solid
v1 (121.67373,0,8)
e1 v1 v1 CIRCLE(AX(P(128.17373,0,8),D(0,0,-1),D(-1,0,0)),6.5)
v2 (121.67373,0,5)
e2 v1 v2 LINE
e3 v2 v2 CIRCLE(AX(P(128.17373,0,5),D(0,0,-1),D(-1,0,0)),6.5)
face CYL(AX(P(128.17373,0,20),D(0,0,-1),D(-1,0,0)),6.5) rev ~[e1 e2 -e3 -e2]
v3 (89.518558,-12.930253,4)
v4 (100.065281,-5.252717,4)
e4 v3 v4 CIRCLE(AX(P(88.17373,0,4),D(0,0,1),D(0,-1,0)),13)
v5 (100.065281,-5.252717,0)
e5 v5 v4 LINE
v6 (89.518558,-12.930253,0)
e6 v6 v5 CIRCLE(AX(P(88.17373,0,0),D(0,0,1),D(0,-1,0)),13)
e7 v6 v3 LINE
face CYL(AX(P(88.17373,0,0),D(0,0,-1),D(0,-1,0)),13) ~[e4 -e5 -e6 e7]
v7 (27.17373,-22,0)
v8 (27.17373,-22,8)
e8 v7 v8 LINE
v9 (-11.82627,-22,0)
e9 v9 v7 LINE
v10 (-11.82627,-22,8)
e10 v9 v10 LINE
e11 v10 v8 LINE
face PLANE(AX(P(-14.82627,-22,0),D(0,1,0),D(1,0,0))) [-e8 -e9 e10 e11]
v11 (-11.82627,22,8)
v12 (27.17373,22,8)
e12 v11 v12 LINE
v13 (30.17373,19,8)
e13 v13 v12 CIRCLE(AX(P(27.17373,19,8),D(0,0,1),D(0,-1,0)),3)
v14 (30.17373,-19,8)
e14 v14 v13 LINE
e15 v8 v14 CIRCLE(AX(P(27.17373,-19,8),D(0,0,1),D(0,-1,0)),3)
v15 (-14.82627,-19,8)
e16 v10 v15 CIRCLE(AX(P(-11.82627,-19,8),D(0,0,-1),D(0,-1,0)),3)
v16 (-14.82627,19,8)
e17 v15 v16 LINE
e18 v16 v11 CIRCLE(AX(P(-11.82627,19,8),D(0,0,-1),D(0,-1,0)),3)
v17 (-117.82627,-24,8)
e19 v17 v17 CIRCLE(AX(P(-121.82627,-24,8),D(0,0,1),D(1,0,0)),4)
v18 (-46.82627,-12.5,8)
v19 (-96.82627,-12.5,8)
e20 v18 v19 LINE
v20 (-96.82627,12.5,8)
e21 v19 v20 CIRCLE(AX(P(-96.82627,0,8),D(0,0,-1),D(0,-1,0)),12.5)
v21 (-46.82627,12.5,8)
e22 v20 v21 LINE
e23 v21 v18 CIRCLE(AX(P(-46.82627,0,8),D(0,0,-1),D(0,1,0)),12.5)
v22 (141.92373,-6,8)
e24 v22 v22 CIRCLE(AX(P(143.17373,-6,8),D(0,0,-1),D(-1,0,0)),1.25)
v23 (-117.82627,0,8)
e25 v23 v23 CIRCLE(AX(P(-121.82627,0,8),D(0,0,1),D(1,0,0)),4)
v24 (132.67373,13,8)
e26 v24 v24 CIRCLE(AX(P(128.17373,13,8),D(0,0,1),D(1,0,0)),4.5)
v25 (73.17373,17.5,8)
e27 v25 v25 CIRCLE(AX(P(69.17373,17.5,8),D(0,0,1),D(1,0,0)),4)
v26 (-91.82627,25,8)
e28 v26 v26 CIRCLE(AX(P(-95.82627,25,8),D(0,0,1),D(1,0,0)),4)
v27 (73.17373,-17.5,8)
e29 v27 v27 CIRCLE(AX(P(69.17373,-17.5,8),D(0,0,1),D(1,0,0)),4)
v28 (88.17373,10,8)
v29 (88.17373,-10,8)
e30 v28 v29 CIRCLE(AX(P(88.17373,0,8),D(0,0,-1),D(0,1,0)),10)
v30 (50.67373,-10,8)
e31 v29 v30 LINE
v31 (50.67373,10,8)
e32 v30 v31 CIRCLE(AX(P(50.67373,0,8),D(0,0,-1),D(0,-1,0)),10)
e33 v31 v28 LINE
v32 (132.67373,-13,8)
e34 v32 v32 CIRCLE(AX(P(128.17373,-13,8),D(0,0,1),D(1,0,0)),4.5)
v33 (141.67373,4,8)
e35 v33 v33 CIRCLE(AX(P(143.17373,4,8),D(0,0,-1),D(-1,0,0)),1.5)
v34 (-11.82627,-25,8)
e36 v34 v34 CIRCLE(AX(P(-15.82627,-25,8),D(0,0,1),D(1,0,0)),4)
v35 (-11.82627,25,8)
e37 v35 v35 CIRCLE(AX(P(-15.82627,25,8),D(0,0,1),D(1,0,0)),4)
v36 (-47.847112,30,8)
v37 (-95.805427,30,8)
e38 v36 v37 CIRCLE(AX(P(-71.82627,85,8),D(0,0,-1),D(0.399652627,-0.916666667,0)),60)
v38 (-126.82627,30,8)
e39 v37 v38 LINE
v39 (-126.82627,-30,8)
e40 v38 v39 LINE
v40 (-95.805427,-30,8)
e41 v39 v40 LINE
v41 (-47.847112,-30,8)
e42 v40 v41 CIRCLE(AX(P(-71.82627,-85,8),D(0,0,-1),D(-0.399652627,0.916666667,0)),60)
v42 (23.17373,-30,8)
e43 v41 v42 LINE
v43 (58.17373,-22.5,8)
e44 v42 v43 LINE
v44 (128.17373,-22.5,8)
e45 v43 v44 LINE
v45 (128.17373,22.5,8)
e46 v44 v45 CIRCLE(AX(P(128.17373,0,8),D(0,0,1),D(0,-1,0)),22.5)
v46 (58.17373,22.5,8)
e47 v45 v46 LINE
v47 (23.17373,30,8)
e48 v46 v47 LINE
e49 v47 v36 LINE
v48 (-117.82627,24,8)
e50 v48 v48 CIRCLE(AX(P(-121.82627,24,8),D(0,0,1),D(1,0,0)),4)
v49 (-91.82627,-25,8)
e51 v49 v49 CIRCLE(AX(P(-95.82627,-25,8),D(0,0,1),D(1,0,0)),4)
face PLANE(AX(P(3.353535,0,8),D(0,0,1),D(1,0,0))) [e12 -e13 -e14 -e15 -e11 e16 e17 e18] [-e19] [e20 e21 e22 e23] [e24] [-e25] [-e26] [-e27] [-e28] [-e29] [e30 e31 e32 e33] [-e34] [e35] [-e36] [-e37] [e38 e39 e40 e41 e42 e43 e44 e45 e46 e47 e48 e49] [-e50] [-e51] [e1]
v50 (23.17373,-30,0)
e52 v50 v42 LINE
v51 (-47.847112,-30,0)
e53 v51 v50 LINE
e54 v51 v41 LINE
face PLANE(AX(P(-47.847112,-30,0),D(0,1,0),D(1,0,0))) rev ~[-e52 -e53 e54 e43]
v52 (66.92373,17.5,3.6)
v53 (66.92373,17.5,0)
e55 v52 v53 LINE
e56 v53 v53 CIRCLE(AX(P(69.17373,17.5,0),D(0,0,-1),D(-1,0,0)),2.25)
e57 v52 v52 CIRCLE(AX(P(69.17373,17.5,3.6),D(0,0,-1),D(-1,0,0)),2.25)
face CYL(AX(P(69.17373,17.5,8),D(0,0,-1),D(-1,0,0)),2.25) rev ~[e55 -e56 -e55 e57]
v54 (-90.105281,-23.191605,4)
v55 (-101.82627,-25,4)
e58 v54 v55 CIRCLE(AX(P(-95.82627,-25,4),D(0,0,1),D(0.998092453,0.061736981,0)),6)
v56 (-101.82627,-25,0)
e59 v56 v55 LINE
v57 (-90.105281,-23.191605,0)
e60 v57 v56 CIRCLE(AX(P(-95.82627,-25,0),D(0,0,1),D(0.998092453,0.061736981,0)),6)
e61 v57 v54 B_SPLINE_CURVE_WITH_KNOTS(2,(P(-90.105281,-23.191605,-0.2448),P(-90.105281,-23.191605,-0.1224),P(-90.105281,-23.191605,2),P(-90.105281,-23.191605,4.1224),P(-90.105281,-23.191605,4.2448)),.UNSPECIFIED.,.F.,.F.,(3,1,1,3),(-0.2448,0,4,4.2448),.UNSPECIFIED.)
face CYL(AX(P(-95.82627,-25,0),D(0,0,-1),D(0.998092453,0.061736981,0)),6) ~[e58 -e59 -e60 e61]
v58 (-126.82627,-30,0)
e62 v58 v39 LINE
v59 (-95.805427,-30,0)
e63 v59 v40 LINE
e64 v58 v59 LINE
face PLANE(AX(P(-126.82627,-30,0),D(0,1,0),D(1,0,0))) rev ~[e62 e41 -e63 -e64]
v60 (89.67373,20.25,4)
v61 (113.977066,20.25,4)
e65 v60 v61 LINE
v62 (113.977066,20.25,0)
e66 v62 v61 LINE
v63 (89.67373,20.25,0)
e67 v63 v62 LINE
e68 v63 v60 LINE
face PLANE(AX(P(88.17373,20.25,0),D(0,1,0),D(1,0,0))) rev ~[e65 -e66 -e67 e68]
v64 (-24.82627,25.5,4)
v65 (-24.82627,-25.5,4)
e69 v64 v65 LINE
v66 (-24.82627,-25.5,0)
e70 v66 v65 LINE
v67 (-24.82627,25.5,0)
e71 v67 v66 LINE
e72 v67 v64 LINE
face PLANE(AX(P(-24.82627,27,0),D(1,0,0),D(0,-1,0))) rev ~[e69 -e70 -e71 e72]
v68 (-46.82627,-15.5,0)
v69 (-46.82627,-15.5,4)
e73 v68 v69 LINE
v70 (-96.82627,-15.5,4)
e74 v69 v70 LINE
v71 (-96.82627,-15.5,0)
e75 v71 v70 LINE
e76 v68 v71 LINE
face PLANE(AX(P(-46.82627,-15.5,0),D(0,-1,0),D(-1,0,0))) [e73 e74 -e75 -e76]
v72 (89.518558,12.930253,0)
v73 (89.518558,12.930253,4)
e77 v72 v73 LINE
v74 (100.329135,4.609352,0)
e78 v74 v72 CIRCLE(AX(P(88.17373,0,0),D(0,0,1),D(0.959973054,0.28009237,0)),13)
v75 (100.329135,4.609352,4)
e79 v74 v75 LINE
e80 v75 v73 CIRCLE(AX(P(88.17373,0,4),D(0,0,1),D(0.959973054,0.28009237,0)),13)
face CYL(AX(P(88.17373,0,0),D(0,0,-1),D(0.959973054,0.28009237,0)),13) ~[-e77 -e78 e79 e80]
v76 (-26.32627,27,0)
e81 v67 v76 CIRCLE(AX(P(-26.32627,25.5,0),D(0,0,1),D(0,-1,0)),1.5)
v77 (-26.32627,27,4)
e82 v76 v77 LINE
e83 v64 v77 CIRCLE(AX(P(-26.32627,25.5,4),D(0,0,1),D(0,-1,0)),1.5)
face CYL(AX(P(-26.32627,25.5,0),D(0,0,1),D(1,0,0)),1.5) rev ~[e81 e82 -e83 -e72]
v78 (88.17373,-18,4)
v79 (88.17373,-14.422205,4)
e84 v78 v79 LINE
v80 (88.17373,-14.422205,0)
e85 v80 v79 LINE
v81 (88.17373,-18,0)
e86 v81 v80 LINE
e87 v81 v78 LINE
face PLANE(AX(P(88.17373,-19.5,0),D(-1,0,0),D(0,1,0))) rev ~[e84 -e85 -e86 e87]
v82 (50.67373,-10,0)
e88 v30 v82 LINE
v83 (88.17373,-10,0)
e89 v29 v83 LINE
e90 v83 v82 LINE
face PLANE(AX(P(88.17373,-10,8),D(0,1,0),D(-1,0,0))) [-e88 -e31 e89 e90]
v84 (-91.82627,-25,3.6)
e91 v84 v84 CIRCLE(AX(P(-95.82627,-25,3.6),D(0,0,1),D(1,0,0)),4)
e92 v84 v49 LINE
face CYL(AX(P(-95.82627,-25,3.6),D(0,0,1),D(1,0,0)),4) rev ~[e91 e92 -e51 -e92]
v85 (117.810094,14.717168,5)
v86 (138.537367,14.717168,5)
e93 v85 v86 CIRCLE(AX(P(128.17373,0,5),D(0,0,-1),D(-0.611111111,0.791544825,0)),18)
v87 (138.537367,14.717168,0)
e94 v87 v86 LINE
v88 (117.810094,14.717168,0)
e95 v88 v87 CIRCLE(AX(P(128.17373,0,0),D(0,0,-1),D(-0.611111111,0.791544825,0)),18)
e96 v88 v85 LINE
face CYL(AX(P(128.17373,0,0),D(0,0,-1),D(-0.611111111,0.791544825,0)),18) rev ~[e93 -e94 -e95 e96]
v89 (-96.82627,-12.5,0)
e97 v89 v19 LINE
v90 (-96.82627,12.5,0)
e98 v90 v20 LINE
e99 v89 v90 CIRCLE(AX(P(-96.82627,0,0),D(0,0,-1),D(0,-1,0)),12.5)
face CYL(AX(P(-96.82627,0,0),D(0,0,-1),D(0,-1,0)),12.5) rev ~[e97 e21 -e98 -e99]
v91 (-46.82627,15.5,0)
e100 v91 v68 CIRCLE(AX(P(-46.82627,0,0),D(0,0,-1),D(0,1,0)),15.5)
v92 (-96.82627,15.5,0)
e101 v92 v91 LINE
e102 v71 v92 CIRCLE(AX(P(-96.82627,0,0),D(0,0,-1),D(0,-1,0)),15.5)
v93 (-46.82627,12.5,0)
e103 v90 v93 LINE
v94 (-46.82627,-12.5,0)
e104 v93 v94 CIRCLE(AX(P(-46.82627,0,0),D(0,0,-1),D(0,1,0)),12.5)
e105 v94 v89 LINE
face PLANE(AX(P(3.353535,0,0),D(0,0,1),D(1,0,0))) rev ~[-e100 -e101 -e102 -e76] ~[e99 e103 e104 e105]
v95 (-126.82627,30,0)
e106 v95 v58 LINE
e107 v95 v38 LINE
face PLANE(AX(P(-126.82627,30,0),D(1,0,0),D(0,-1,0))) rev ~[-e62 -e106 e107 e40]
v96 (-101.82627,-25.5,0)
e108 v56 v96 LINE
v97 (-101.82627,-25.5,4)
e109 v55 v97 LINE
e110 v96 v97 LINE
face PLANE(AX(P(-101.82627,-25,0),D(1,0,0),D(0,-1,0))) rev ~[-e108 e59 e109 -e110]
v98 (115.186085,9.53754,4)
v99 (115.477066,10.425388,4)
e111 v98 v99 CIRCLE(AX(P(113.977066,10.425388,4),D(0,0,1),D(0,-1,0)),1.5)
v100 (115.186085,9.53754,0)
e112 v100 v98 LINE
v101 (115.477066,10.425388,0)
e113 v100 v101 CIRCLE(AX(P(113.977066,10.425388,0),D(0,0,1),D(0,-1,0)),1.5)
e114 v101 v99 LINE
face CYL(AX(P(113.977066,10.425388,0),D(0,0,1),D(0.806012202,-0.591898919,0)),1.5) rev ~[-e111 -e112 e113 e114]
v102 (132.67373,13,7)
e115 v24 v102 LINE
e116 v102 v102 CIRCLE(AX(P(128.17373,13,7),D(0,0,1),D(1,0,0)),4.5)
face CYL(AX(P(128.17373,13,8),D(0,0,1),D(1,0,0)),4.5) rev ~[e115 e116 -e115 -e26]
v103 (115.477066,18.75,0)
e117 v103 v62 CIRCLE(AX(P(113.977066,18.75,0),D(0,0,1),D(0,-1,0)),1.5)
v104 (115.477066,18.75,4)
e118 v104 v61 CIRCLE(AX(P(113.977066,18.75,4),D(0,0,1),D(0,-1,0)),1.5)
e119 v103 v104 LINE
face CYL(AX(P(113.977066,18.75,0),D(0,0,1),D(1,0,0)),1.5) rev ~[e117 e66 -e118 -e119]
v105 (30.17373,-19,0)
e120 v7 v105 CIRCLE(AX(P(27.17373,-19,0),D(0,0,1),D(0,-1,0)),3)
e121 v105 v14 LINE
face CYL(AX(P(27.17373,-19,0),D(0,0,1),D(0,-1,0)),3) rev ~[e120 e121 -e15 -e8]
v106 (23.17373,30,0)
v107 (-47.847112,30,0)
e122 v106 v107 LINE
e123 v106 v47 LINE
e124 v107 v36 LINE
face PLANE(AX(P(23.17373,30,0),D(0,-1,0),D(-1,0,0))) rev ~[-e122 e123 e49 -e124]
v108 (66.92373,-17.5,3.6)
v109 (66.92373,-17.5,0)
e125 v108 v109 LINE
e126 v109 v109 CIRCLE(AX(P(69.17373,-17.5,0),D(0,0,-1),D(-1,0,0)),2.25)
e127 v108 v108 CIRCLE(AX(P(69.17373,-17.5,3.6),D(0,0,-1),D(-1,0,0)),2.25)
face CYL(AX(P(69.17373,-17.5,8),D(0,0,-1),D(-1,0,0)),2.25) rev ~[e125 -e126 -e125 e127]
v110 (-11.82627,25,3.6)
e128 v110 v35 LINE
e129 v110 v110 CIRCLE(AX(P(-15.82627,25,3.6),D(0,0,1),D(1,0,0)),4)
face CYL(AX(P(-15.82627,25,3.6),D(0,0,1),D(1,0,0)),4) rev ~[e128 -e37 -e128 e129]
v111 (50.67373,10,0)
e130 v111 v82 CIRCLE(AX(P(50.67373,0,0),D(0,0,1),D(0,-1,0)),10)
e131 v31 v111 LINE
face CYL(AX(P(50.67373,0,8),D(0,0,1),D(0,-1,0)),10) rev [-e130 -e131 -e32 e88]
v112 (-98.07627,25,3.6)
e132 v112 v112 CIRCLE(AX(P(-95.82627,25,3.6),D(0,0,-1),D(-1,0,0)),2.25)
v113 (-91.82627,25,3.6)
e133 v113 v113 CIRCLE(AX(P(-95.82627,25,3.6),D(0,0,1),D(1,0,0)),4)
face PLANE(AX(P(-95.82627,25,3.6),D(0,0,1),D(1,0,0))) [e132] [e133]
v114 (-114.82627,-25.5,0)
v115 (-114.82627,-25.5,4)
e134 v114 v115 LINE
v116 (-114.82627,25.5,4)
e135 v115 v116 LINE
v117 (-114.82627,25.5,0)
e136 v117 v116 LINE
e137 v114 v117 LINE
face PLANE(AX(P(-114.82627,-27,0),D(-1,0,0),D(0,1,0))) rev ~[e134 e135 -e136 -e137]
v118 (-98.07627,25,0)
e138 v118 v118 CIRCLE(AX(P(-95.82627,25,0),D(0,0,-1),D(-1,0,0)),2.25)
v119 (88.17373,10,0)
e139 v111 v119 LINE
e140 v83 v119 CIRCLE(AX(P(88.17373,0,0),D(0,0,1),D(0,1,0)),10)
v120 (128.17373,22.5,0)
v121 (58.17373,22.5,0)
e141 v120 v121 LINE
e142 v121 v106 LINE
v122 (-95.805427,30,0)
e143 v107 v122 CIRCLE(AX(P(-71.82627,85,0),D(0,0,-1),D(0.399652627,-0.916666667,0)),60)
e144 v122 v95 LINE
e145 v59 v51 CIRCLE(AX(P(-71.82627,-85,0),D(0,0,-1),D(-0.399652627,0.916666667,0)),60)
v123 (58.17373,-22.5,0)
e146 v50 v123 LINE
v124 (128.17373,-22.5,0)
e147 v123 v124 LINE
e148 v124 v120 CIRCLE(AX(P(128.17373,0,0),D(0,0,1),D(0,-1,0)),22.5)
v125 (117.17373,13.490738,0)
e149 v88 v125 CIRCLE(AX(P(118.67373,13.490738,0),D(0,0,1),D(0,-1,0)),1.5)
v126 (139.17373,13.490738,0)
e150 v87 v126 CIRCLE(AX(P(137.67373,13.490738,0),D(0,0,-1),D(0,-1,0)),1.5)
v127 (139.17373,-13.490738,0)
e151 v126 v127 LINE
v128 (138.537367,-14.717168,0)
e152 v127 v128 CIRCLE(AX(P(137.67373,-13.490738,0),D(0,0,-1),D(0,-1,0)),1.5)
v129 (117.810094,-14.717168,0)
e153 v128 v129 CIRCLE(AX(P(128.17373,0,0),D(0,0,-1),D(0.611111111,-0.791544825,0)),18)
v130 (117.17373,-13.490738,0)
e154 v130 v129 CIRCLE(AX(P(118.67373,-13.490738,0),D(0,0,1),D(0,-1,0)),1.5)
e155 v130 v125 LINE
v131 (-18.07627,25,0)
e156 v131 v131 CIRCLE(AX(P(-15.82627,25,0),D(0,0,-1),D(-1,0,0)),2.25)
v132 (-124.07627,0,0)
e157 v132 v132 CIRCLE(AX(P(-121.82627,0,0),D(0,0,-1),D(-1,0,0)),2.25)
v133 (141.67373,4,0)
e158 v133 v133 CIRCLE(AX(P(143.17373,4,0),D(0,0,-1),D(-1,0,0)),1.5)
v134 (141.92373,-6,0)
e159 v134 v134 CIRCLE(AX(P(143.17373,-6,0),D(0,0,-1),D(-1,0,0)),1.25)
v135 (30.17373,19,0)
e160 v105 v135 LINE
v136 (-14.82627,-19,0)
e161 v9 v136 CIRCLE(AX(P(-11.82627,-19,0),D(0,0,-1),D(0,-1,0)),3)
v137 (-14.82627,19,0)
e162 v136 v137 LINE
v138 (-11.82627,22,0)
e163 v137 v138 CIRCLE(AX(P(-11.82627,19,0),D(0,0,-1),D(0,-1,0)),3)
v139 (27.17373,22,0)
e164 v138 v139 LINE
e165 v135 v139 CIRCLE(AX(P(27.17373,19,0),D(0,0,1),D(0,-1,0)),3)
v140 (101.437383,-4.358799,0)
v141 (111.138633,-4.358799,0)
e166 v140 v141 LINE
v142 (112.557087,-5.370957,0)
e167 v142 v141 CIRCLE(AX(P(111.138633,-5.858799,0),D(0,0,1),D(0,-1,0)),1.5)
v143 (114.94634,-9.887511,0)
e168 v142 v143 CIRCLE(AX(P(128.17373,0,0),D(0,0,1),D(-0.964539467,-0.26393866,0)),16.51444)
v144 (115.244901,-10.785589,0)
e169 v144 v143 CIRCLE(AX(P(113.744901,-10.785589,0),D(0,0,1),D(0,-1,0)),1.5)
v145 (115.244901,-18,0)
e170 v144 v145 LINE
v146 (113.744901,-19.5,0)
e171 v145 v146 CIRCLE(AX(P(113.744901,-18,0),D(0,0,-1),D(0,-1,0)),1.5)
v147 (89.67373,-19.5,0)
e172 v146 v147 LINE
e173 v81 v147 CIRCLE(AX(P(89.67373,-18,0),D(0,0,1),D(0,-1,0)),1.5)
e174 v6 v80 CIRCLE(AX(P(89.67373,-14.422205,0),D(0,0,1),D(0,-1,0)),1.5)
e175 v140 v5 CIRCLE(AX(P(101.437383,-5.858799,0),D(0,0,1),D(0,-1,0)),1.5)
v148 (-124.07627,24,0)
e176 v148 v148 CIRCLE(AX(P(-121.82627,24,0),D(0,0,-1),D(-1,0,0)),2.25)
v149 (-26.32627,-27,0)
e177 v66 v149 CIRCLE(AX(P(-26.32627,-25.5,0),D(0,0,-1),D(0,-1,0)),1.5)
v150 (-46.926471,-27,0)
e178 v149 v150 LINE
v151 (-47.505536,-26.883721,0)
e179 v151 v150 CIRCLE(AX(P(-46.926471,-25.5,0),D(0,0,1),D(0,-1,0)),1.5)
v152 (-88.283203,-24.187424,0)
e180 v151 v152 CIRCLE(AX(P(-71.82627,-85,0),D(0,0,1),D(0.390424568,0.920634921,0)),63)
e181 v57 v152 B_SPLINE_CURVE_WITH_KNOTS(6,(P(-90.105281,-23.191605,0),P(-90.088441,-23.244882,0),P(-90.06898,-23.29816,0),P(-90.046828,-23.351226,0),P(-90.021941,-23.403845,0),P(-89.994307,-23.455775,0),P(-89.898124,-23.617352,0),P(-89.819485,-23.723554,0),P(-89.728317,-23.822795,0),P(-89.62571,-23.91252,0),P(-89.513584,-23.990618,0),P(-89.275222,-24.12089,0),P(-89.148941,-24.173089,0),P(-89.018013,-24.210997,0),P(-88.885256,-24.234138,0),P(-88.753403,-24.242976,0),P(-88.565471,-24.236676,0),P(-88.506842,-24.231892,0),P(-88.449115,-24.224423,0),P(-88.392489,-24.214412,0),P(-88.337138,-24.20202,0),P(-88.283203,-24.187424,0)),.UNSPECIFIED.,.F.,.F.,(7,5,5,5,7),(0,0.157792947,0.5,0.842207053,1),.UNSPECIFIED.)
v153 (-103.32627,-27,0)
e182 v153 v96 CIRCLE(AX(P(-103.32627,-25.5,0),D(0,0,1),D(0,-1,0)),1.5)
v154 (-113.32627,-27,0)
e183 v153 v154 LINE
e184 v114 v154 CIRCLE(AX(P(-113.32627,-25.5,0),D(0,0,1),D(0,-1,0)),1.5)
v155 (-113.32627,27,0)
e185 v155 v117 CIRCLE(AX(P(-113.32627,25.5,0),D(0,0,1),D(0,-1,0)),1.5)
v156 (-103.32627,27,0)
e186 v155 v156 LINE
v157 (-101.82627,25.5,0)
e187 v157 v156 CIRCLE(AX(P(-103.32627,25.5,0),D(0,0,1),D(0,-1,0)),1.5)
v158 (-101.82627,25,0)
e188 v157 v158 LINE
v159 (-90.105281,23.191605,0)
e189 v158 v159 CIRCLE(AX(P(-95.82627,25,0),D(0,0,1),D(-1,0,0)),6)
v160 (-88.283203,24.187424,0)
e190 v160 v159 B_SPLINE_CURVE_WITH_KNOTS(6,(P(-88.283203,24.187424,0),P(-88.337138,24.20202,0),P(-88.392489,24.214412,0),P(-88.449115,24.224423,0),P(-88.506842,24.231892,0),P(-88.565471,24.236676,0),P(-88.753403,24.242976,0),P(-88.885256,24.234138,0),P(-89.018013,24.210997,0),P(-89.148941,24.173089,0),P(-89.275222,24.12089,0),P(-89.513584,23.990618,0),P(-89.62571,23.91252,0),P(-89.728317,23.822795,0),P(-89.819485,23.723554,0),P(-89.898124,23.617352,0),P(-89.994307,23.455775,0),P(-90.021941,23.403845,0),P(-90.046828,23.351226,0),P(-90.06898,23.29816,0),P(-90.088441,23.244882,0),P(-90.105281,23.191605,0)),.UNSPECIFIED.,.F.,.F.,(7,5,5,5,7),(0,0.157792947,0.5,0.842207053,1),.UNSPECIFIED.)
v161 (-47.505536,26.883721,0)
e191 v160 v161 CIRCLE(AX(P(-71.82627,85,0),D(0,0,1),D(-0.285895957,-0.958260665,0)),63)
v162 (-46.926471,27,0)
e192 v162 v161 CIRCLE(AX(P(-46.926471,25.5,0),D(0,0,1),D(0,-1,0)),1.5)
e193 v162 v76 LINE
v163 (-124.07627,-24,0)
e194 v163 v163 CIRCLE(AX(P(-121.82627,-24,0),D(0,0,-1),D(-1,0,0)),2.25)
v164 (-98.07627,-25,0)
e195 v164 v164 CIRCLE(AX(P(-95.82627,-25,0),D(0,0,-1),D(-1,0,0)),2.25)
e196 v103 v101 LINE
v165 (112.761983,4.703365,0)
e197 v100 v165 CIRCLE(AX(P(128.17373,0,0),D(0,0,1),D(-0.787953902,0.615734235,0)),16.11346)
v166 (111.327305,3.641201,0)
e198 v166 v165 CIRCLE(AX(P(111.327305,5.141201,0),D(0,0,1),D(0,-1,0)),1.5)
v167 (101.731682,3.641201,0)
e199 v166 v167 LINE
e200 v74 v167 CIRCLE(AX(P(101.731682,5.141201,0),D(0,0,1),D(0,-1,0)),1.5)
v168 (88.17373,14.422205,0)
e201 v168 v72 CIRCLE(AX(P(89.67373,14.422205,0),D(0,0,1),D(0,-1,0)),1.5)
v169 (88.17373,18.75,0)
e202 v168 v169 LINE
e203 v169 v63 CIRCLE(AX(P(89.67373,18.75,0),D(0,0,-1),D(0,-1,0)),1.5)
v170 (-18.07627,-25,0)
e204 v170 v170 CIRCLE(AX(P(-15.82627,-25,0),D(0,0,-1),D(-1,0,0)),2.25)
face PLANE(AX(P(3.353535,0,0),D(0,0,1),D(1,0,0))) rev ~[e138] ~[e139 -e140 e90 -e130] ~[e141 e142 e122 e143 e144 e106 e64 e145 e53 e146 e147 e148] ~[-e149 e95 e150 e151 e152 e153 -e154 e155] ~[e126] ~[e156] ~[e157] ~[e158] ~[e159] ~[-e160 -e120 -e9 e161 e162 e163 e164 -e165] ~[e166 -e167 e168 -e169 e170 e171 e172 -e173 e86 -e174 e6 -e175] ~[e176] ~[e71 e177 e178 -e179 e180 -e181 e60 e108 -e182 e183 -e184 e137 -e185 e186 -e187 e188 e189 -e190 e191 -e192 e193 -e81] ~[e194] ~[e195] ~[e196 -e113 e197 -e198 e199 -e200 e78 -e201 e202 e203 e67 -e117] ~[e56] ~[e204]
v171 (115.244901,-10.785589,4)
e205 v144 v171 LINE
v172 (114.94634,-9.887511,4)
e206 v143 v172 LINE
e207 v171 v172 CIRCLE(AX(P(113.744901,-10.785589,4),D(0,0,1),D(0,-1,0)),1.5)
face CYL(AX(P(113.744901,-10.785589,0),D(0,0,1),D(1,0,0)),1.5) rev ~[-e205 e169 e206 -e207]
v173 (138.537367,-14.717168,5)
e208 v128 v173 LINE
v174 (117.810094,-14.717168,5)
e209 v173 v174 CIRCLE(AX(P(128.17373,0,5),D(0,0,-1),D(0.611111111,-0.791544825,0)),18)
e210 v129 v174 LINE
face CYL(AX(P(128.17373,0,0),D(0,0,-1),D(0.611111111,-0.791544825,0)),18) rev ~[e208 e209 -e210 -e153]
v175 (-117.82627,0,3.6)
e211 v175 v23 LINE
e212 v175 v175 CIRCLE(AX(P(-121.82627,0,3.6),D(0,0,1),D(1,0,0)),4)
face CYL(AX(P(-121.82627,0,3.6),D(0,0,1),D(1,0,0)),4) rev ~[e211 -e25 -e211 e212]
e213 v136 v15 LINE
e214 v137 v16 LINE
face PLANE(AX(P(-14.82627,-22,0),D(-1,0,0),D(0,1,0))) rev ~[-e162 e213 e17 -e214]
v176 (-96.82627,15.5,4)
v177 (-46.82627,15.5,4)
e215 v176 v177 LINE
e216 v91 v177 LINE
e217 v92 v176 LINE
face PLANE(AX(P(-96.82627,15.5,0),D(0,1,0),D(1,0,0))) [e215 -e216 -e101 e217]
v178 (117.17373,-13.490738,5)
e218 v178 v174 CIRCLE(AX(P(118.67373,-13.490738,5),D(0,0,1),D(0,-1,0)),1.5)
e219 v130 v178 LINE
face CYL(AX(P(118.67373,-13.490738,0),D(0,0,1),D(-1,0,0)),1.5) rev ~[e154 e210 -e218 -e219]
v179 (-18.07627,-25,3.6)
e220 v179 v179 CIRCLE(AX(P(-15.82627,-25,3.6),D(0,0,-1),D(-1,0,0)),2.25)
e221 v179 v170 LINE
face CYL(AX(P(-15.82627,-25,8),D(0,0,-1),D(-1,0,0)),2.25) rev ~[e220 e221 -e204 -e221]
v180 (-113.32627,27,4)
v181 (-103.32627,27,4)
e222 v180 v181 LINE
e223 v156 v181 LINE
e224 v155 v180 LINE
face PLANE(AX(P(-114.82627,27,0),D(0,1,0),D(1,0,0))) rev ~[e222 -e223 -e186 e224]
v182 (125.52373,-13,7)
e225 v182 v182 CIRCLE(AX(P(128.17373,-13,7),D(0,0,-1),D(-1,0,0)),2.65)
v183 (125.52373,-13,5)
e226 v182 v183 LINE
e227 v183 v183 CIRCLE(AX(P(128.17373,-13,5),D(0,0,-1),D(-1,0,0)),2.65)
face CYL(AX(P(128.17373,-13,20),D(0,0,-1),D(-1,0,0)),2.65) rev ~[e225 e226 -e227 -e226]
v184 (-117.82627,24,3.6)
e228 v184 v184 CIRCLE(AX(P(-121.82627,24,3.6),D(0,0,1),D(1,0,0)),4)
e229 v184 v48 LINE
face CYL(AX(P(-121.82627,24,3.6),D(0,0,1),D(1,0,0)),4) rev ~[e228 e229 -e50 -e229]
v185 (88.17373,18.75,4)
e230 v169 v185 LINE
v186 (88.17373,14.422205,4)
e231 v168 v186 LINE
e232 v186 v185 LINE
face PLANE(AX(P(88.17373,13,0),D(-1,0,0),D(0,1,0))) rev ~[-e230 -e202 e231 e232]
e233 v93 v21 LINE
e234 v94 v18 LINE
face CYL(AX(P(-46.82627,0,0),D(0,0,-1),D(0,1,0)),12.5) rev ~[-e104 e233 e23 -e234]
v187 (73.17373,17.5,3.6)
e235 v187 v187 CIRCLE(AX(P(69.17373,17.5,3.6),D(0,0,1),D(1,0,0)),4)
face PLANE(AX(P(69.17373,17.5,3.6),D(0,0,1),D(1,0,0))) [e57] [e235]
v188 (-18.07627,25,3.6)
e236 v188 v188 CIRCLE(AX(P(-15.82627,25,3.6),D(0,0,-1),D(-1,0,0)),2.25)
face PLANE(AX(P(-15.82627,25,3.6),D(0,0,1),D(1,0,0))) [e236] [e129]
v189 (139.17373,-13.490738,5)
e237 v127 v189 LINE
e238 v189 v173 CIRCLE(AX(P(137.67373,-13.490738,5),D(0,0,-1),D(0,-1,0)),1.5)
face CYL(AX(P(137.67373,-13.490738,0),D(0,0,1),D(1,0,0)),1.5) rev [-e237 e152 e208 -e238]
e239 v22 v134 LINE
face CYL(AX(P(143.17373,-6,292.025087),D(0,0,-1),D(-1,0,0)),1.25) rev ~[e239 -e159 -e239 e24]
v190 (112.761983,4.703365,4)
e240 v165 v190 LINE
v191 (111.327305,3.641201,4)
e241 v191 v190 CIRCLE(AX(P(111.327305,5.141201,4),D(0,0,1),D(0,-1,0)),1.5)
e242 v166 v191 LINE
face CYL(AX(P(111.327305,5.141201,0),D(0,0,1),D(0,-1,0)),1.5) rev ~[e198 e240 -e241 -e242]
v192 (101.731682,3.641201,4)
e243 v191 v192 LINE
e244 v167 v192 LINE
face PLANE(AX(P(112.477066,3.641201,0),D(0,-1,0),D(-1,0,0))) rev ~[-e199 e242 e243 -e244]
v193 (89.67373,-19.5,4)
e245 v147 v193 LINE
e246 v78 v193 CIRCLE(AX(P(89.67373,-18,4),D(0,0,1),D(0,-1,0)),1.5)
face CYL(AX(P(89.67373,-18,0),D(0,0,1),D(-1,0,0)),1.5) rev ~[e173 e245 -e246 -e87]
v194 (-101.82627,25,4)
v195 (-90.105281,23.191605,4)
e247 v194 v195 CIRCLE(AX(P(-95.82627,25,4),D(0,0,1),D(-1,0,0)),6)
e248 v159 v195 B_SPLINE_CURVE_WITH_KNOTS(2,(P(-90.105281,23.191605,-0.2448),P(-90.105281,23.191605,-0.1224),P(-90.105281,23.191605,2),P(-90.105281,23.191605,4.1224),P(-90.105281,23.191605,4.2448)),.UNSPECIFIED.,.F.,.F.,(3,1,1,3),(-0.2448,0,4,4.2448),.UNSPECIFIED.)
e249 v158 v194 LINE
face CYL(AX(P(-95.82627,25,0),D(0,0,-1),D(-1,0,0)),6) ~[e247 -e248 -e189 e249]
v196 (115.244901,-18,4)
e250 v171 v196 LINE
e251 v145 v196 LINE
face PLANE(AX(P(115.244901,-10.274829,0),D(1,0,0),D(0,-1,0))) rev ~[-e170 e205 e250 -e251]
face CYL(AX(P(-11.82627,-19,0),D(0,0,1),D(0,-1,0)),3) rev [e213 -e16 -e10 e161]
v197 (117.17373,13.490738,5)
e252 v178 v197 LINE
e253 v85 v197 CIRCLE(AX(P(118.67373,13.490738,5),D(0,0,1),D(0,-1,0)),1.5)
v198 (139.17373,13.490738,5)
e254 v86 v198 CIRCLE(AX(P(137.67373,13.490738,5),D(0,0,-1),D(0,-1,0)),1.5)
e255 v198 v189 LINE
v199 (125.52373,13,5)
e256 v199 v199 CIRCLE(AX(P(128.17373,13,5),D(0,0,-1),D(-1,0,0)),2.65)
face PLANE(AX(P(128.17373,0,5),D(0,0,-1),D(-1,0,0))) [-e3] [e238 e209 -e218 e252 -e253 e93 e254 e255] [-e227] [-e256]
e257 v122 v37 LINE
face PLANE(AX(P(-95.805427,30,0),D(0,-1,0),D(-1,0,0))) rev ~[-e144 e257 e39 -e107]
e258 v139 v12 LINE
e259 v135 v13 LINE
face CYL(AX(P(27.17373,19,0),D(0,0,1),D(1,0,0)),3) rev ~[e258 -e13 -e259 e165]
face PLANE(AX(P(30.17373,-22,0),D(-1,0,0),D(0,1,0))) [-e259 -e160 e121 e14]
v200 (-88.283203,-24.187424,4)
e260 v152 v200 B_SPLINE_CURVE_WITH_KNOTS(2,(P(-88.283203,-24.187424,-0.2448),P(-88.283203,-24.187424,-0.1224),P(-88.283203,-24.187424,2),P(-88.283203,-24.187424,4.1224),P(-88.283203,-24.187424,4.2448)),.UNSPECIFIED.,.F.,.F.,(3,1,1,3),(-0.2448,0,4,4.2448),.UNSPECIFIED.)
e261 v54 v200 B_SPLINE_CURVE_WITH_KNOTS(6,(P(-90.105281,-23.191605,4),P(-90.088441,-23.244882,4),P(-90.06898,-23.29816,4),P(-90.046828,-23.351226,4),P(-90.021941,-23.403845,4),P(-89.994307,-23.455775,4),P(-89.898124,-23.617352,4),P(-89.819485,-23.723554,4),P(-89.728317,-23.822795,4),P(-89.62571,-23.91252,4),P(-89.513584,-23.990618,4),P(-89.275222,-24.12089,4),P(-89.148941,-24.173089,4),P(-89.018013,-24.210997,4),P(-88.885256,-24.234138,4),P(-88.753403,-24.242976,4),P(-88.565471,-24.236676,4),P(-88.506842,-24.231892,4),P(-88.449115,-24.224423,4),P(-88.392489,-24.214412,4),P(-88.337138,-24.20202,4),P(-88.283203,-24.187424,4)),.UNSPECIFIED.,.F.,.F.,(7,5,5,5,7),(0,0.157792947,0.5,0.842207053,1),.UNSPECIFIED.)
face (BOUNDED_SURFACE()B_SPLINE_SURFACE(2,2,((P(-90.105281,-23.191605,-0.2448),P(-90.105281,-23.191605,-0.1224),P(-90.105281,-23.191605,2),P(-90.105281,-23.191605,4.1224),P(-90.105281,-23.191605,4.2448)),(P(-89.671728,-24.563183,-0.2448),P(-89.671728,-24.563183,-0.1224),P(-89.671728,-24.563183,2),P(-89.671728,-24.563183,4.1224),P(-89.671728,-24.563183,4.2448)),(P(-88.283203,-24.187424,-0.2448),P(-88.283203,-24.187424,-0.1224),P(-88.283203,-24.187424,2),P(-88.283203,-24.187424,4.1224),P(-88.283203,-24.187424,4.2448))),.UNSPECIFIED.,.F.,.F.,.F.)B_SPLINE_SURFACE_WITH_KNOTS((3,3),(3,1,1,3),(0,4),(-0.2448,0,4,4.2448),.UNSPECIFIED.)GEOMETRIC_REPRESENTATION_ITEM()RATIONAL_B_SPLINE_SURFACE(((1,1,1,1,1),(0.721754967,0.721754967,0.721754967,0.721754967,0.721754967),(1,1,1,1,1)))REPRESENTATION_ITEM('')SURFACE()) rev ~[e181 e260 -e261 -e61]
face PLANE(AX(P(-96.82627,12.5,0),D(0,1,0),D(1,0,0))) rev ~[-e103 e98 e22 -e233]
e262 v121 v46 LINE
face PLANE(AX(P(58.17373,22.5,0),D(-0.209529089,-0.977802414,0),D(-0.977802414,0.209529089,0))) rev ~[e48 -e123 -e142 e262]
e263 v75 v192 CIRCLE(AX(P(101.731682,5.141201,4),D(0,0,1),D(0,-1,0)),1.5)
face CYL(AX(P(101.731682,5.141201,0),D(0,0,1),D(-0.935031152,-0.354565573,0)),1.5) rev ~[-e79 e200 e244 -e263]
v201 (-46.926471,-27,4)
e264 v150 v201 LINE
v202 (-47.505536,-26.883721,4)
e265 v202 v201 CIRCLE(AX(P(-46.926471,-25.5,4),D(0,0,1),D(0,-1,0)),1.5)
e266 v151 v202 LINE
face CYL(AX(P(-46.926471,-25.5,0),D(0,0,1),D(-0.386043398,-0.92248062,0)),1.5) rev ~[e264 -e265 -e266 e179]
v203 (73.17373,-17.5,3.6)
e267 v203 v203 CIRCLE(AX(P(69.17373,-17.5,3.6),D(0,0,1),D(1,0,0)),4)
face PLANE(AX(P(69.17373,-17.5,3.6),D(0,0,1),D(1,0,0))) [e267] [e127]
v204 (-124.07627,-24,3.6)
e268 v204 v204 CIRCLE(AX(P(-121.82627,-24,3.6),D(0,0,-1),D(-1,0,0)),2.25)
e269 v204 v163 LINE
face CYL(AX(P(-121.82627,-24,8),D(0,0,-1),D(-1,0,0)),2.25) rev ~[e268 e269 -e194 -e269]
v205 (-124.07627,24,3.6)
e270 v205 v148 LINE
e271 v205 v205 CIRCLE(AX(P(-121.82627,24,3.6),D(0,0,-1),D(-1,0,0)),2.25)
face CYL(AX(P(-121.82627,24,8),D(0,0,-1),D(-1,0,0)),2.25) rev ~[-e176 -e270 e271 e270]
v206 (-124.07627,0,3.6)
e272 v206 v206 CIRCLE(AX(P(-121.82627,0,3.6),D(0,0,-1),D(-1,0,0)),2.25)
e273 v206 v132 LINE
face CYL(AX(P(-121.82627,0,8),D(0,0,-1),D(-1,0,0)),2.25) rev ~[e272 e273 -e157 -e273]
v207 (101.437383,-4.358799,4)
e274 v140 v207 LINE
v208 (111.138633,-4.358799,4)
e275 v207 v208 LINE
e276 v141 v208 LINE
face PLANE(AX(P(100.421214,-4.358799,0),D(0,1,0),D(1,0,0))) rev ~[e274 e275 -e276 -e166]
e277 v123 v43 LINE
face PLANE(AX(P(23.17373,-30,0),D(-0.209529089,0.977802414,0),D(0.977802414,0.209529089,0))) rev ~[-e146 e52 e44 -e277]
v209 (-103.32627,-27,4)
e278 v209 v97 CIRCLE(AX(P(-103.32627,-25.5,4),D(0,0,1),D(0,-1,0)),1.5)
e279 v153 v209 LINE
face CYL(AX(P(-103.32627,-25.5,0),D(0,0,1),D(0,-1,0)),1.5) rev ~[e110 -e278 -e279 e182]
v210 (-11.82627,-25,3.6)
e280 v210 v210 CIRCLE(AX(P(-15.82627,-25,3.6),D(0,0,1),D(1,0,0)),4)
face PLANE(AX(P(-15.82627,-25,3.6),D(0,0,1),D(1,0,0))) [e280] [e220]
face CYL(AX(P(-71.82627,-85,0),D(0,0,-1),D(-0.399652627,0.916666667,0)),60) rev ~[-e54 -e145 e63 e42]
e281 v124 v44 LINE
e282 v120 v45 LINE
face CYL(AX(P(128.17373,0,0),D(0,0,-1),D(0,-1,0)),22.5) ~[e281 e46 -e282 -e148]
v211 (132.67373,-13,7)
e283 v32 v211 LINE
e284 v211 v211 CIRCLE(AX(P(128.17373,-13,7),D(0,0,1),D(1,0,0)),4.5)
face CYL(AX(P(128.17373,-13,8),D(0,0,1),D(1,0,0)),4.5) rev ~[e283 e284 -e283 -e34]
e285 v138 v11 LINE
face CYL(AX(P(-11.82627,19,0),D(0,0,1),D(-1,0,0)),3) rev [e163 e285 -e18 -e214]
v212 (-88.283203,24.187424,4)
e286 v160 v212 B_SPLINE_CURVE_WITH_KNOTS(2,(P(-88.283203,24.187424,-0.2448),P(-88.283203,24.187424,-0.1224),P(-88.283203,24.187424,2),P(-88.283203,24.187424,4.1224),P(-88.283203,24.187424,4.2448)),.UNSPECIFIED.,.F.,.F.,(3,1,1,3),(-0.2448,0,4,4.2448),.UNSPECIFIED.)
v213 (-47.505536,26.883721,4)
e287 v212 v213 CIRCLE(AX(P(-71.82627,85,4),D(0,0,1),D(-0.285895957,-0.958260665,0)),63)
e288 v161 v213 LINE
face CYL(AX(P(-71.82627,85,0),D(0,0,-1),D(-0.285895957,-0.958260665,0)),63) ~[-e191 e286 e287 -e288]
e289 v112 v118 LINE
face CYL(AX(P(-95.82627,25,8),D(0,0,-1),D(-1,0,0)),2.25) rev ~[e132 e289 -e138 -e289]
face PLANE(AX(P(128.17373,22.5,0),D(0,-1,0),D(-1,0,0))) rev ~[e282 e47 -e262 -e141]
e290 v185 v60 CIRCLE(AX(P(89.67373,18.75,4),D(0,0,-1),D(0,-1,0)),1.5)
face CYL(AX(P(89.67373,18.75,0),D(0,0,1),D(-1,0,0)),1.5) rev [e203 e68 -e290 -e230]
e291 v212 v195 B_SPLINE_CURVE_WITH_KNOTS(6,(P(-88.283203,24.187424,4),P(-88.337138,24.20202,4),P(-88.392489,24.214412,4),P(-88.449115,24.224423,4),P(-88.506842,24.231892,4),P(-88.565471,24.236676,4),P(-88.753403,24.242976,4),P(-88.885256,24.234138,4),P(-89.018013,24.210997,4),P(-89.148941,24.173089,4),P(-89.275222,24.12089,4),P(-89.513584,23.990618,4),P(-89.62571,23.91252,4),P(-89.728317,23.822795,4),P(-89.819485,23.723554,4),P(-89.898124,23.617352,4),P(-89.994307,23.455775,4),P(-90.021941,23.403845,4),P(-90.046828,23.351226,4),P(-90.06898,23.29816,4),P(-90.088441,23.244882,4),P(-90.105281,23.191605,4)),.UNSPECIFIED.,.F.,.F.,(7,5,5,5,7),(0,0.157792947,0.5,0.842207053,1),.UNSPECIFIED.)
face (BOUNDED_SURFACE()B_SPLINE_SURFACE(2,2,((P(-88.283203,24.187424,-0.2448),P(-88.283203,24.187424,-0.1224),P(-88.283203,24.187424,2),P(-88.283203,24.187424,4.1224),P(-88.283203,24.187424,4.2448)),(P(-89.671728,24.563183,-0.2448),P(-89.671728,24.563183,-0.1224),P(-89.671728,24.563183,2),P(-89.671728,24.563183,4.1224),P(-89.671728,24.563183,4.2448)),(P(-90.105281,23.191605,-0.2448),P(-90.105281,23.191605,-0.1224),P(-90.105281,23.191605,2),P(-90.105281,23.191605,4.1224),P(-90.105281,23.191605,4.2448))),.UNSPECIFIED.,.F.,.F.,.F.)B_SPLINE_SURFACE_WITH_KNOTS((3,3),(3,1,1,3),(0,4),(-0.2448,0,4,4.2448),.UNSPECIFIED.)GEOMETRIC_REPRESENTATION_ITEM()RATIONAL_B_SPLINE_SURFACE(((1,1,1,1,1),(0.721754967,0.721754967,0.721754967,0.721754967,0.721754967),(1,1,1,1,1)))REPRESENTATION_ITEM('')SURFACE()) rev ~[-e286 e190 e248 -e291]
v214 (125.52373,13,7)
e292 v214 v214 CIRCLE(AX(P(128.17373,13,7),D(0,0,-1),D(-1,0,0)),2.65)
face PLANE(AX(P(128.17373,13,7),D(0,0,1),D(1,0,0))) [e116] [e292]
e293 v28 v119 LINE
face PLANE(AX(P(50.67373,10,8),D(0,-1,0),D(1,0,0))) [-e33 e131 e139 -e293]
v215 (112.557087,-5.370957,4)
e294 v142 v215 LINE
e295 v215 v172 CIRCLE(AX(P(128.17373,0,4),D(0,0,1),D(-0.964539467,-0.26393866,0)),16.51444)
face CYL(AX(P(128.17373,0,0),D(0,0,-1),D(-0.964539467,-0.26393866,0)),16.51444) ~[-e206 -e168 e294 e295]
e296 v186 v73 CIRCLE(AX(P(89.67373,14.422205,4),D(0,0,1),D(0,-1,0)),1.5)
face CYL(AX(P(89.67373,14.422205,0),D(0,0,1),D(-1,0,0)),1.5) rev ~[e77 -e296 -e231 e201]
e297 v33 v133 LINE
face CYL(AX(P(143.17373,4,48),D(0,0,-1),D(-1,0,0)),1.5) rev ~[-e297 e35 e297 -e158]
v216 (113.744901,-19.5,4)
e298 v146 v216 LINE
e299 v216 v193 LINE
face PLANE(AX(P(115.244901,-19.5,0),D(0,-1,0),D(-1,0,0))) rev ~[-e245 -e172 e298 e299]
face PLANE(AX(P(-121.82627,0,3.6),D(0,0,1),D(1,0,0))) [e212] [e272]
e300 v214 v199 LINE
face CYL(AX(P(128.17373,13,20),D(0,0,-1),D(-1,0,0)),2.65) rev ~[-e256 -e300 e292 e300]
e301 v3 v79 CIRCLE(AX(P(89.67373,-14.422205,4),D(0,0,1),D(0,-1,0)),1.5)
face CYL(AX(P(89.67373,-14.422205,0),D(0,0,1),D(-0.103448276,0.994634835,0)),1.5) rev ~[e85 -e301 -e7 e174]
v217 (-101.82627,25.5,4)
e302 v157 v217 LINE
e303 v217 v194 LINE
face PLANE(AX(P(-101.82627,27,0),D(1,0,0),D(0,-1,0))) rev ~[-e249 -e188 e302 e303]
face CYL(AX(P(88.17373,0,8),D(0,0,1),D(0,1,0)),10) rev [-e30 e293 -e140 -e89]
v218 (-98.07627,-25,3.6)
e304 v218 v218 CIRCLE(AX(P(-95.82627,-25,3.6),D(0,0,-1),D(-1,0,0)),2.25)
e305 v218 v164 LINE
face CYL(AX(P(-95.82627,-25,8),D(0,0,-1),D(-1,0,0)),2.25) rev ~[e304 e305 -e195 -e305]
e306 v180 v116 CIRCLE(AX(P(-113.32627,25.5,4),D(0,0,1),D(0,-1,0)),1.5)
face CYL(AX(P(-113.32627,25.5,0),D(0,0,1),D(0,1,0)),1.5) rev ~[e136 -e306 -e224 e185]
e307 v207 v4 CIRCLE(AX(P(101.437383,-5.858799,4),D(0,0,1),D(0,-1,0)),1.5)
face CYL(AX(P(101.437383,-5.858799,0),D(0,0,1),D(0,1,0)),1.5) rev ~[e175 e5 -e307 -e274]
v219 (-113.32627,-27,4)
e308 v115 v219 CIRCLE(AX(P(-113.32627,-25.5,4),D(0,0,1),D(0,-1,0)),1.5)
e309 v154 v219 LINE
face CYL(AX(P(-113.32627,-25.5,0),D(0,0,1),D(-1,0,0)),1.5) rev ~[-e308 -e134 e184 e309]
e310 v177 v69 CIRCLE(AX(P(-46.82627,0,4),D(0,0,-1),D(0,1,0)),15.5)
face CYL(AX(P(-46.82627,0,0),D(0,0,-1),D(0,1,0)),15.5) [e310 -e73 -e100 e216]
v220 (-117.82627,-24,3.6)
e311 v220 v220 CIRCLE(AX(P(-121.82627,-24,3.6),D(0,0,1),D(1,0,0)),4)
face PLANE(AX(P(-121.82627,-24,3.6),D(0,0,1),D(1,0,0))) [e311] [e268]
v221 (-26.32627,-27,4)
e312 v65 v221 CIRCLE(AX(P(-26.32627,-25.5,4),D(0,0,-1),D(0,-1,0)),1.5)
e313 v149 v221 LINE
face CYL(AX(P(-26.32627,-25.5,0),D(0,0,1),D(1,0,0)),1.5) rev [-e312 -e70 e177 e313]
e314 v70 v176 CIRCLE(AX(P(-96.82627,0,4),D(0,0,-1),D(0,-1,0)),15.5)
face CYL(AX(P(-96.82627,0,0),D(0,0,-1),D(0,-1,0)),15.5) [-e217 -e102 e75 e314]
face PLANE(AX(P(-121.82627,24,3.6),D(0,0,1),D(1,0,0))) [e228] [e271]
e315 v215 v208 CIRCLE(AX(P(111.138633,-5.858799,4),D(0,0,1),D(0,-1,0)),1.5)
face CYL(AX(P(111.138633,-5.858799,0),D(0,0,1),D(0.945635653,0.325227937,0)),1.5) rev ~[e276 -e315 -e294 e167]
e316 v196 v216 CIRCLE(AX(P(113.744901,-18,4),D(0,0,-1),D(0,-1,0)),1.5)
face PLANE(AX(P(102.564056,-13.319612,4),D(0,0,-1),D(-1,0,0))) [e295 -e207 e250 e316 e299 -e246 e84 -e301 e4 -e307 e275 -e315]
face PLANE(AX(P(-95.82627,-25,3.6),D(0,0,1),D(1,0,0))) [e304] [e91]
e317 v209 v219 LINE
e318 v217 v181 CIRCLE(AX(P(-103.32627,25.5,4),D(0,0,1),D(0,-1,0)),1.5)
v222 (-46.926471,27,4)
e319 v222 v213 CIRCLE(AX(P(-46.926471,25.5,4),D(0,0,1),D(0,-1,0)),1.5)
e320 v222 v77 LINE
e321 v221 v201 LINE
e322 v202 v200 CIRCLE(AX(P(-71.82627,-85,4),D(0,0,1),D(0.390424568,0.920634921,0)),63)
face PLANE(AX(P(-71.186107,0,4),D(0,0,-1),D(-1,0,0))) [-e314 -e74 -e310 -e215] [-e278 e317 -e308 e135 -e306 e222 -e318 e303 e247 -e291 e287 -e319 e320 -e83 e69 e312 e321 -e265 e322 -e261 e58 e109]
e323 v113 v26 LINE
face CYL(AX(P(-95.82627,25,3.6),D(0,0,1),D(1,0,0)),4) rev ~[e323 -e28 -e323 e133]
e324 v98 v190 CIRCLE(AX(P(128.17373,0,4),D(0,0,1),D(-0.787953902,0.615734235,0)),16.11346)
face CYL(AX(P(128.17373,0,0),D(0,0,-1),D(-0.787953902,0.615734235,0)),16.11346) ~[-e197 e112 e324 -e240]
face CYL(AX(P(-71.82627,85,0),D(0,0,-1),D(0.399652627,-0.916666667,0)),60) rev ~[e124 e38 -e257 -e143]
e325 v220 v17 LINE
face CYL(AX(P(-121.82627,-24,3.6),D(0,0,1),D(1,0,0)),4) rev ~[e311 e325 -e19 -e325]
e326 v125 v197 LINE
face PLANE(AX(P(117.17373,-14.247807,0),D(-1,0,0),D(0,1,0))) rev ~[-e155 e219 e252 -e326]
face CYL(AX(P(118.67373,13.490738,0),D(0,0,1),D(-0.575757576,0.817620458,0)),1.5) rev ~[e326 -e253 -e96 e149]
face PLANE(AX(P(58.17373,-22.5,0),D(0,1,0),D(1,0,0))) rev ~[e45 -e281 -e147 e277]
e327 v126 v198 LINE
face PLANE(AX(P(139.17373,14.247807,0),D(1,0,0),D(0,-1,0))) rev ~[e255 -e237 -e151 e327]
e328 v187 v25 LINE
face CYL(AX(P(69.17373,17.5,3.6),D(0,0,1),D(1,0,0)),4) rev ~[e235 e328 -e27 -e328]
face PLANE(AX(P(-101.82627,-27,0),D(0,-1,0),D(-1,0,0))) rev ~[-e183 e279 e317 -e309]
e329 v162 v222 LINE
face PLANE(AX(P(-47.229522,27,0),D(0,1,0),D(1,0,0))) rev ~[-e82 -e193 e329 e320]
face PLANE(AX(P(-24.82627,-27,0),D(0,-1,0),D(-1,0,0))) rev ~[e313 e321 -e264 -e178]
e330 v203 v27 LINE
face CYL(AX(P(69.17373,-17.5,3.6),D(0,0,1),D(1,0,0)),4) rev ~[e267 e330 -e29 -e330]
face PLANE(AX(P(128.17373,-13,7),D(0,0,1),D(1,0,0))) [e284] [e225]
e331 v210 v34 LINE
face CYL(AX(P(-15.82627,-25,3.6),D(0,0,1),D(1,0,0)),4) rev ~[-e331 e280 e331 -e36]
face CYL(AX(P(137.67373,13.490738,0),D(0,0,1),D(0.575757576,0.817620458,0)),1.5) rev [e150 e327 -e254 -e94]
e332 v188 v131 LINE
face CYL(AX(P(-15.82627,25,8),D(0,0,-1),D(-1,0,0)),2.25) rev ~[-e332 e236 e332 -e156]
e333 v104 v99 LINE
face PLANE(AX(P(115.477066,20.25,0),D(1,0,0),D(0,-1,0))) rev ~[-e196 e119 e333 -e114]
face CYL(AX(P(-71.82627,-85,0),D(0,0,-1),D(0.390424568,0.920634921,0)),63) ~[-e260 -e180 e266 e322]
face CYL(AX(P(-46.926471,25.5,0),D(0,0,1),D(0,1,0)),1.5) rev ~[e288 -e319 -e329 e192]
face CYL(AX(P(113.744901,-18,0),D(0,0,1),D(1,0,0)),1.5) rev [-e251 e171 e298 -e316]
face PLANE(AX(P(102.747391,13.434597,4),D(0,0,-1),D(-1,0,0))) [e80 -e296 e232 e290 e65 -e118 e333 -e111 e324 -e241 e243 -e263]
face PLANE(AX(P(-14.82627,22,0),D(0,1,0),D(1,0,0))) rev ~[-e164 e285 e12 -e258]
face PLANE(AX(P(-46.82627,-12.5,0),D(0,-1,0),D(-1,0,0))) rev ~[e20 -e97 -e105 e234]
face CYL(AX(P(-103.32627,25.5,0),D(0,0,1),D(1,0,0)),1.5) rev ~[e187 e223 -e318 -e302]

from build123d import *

# Parameters (mm, degrees)
SKETCH_1_W                   = 45
SKETCH_1_H                   = 44
EXTRUDE_1_DEPTH              = 8
CUT_EXTRUDE_1_DEPTH          = 10
FILLET_1_R                   = 3
HOLE_WIZARD_M4_1_D           = 4.5
HOLE_WIZARD_M4_1_CBORE_D     = 8
HOLE_WIZARD_M4_1_CBORE_DEPTH = 4.4
CUT_EXTRUDE_2_DEPTH          = 4
FILLET_2_R                   = 1.5
HOLE_WIZARD_13_0_13_1_D      = 13
HOLE_WIZARD_13_0_13_1_DEPTH  = 12
HOLE_WIZARD_13_0_13_1_TIP    = 3.905594024
CUT_EXTRUDE_3_DEPTH          = 5
HOLE_WIZARD_5_3_5_3_1_D      = 5.3
HOLE_WIZARD_5_3_5_3_1_DEPTH  = 12
HOLE_WIZARD_5_3_5_3_1_TIP    = 1.59228064
SKETCH_19_R                  = 4.5
CUT_EXTRUDE_4_DEPTH          = 1
HOLE_WIZARD_M3_1_D           = 2.5
HOLE_WIZARD_3_0_3_1_D        = 3
HOLE_WIZARD_3_0_3_1_DEPTH    = 40
HOLE_WIZARD_3_0_3_1_TIP      = 0.901290929
FILLET_3_R                   = 1.5


with BuildPart() as part:
    # 草图1 → 凸台-拉伸1 (new body)
    with BuildSketch(Plane.XY):
        with BuildLine():
            Line((128.173730269, 22.5), (58.173730269, 22.5))
            Line((58.173730269, 22.5), (23.173730269, 30))
            Line((23.173730269, 30), (-47.847112114, 30))
            ThreePointArc((-47.847112114, 30), (-71.826269731, 25), (-95.805427348, 30))
            Line((-95.805427348, 30), (-126.826269731, 30))
            Line((-126.826269731, 30), (-126.826269731, -30))
            Line((-126.826269731, -30), (-95.805427348, -30))
            ThreePointArc((-95.805427348, -30), (-71.826269731, -25), (-47.847112114, -30))
            Line((-47.847112114, -30), (23.173730269, -30))
            Line((23.173730269, -30), (58.173730269, -22.5))
            Line((58.173730269, -22.5), (128.173730269, -22.5))
            ThreePointArc((128.173730269, -22.5), (150.673730269, 0), (128.173730269, 22.5))
        make_face()
        with BuildLine():
            Line((-96.826269731, 12.5), (-46.826269731, 12.5))
            ThreePointArc((-46.826269731, 12.5), (-34.326269731, 0), (-46.826269731, -12.5))
            Line((-46.826269731, -12.5), (-96.826269731, -12.5))
            ThreePointArc((-96.826269731, -12.5), (-109.326269731, 0), (-96.826269731, 12.5))
        make_face(mode=Mode.SUBTRACT)
        with Locations((7.673730269, 0)):
            Rectangle(SKETCH_1_W, SKETCH_1_H, mode=Mode.SUBTRACT)
    extrude(amount=EXTRUDE_1_DEPTH)

    # 草图2 → 切除-拉伸1 (cut)
    with BuildSketch(Plane.XY.offset(8)):
        with BuildLine():
            Line((50.673730269, 10), (88.173730269, 10))
            ThreePointArc((88.173730269, 10), (98.173730269, 0), (88.173730269, -10))
            Line((88.173730269, -10), (50.673730269, -10))
            ThreePointArc((50.673730269, -10), (40.673730269, 0), (50.673730269, 10))
        make_face()
    extrude(amount=-CUT_EXTRUDE_1_DEPTH, mode=Mode.SUBTRACT)

    # 圆角1
    fillet_1_edges = [part.edges().sort_by_distance(p)[0] for p in [
        (-14.826269731, 22, 4),
        (-14.826269731, -22, 4),
        (30.173730269, -22, 4),
        (30.173730269, 22, 4),
    ]]
    fillet(fillet_1_edges, radius=FILLET_1_R)

    # M4 六角凹头螺钉的柱形沉头孔1 (through all)
    with Locations(Plane.XY.offset(8)):
        with Locations((-121.826269731, 0), (-121.826269731, -24), (-121.826269731, 24), (-95.826269731, 25), (-95.826269731, -25), (-15.826269731, -25), (-15.826269731, 25), (69.173730269, 17.5), (69.173730269, -17.5)):
            CounterBoreHole(HOLE_WIZARD_M4_1_D / 2, HOLE_WIZARD_M4_1_CBORE_D / 2, HOLE_WIZARD_M4_1_CBORE_DEPTH)

    # 草图11 → 切除-拉伸2 (cut)
    # profile 1 of 3: a face of its own
    with BuildSketch(Plane(origin=(0, 0, 0), x_dir=(-1, 0, 0), z_dir=(0, 0, -1))):
        with BuildLine():
            Line((24.826269731, -27), (47.229521978, -27))
            ThreePointArc((47.229521978, -27), (68.326801608, -22.097267763), (89.837715012, -24.629578112))
            ThreePointArc((89.837715012, -24.629578112), (96.011569063, -19.002862003), (101.826269731, -25))
            Line((101.826269731, -25), (101.826269731, -27))
            Line((101.826269731, -27), (114.826269731, -27))
            Line((114.826269731, -27), (114.826269731, 27))
            Line((114.826269731, 27), (101.826269731, 27))
            Line((101.826269731, 27), (101.826269731, 25))
            ThreePointArc((101.826269731, 25), (96.011569063, 19.002862003), (89.837715012, 24.629578112))
            ThreePointArc((89.837715012, 24.629578112), (68.326801608, 22.097267763), (47.229521978, 27))
            Line((47.229521978, 27), (24.826269731, 27))
            Line((24.826269731, 27), (24.826269731, -27))
        make_face()
        with BuildLine():
            Line((96.826269731, 15.5), (46.826269731, 15.5))
            ThreePointArc((46.826269731, 15.5), (31.326269731, 0), (46.826269731, -15.5))
            Line((46.826269731, -15.5), (96.826269731, -15.5))
            ThreePointArc((96.826269731, -15.5), (112.326269731, 0), (96.826269731, 15.5))
        make_face(mode=Mode.SUBTRACT)
    # profile 2 of 3: a face of its own
    with BuildSketch(Plane(origin=(0, 0, 0), x_dir=(-1, 0, 0), z_dir=(0, 0, -1))):
        with BuildLine():
            Line((-88.173730269, 20.25), (-115.477066498, 20.25))
            Line((-115.477066498, 20.25), (-115.477066498, 9.921609041))
            ThreePointArc((-115.477066498, 9.921609041), (-113.633917887, 6.945318766), (-112.477066498, 3.64120081))
            Line((-112.477066498, 3.64120081), (-100.65337997, 3.64120081))
            ThreePointArc((-100.65337997, 3.64120081), (-95.973229915, 10.400375246), (-88.173730269, 13))
            Line((-88.173730269, 13), (-88.173730269, 20.25))
        make_face()
    # profile 3 of 3: a face of its own
    with BuildSketch(Plane(origin=(0, 0, 0), x_dir=(-1, 0, 0), z_dir=(0, 0, -1))):
        with BuildLine():
            Line((-115.244901013, -19.5), (-88.173730269, -19.5))
            Line((-88.173730269, -19.5), (-88.173730269, -13))
            ThreePointArc((-88.173730269, -13), (-95.668248617, -10.622249984), (-100.421214485, -4.35879919))
            Line((-100.421214485, -4.35879919), (-112.244901013, -4.35879919))
            ThreePointArc((-112.244901013, -4.35879919), (-113.444814316, -7.468986993), (-115.244901013, -10.274828753))
            Line((-115.244901013, -10.274828753), (-115.244901013, -19.5))
        make_face()
    extrude(amount=-CUT_EXTRUDE_2_DEPTH, mode=Mode.SUBTRACT)

    # 圆角2
    fillet_2_edges = [part.edges().sort_by_distance(p)[0] for p in [
        (115.477066498, 9.921609041, 2),
        (115.477066498, 20.25, 2),
        (88.173730269, 20.25, 2),
        (88.173730269, 13, 2),
        (100.65337997, 3.64120081, 2),
        (112.477066498, 3.64120081, 2),
        (-24.826269731, -27, 2),
        (-24.826269731, 27, 2),
        (-47.229521978, 27, 2),
        (-89.837715012, 24.629578112, 2),
        (-101.826269731, 27, 2),
        (-114.826269731, 27, 2),
        (-114.826269731, -27, 2),
        (-101.826269731, -27, 2),
        (-89.837715012, -24.629578112, 2),
        (-47.229521978, -27, 2),
        (100.421214485, -4.35879919, 2),
        (88.173730269, -13, 2),
        (88.173730269, -19.5, 2),
        (115.244901013, -19.5, 2),
        (115.244901013, -10.274828753, 2),
        (112.244901013, -4.35879919, 2),
    ]]
    fillet(fillet_2_edges, radius=FILLET_2_R)

    # Ø13.0 (13) 直径孔1
    with Locations(Plane.XY.offset(8)):
        with Locations((128.173730269, 0)):
            Hole(HOLE_WIZARD_13_0_13_1_D / 2, depth=HOLE_WIZARD_13_0_13_1_DEPTH)
            with Locations((0, 0, -(HOLE_WIZARD_13_0_13_1_DEPTH + HOLE_WIZARD_13_0_13_1_TIP / 2))):  # 118° drill point
                Cone(0, HOLE_WIZARD_13_0_13_1_D / 2, HOLE_WIZARD_13_0_13_1_TIP, mode=Mode.SUBTRACT)

    # 草图14 → 切除-拉伸3 (cut)
    with BuildSketch(Plane(origin=(0, 0, 0), x_dir=(-1, 0, 0), z_dir=(0, 0, -1))):
        with BuildLine():
            Line((-139.173730269, 14.247806849), (-139.173730269, -14.247806849))
            ThreePointArc((-139.173730269, -14.247806849), (-128.173730269, -18), (-117.173730269, -14.247806849))
            Line((-117.173730269, -14.247806849), (-117.173730269, 14.247806849))
            ThreePointArc((-117.173730269, 14.247806849), (-128.173730269, 18), (-139.173730269, 14.247806849))
        make_face()
    extrude(amount=-CUT_EXTRUDE_3_DEPTH, mode=Mode.SUBTRACT)

    # Ø5.3 (5.3) 直径孔1
    with Locations(Plane.XY.offset(8)):
        with Locations((128.173730269, 13), (128.173730269, -13)):
            Hole(HOLE_WIZARD_5_3_5_3_1_D / 2, depth=HOLE_WIZARD_5_3_5_3_1_DEPTH)
            with Locations((0, 0, -(HOLE_WIZARD_5_3_5_3_1_DEPTH + HOLE_WIZARD_5_3_5_3_1_TIP / 2))):  # 118° drill point
                Cone(0, HOLE_WIZARD_5_3_5_3_1_D / 2, HOLE_WIZARD_5_3_5_3_1_TIP, mode=Mode.SUBTRACT)

    # 草图19 → 切除-拉伸4 (cut)
    with BuildSketch(Plane.XY.offset(8)):
        with Locations((128.173730269, 13)):
            Circle(SKETCH_19_R)
        with Locations((128.173730269, -13)):
            Circle(SKETCH_19_R)
    extrude(amount=-CUT_EXTRUDE_4_DEPTH, mode=Mode.SUBTRACT)

    # M3 螺纹孔1 (through all)
    with Locations(Plane.XY.offset(8)):
        with Locations((143.173730269, -6)):
            Hole(HOLE_WIZARD_M3_1_D / 2)

    # Ø3.0 (3) 直径孔1
    with Locations(Plane.XY.offset(8)):
        with Locations((143.173730269, 4)):
            Hole(HOLE_WIZARD_3_0_3_1_D / 2, depth=HOLE_WIZARD_3_0_3_1_DEPTH)
            with Locations((0, 0, -(HOLE_WIZARD_3_0_3_1_DEPTH + HOLE_WIZARD_3_0_3_1_TIP / 2))):  # 118° drill point
                Cone(0, HOLE_WIZARD_3_0_3_1_D / 2, HOLE_WIZARD_3_0_3_1_TIP, mode=Mode.SUBTRACT)

    # 圆角3
    fillet_3_edges = [part.edges().sort_by_distance(p)[0] for p in [
        (117.173730269, -14.247806849, 2.5),
        (139.173730269, -14.247806849, 2.5),
        (139.173730269, 14.247806849, 2.5),
        (117.173730269, 14.247806849, 2.5),
    ]]
    fillet(fillet_3_edges, radius=FILLET_3_R)


solid = part.part
